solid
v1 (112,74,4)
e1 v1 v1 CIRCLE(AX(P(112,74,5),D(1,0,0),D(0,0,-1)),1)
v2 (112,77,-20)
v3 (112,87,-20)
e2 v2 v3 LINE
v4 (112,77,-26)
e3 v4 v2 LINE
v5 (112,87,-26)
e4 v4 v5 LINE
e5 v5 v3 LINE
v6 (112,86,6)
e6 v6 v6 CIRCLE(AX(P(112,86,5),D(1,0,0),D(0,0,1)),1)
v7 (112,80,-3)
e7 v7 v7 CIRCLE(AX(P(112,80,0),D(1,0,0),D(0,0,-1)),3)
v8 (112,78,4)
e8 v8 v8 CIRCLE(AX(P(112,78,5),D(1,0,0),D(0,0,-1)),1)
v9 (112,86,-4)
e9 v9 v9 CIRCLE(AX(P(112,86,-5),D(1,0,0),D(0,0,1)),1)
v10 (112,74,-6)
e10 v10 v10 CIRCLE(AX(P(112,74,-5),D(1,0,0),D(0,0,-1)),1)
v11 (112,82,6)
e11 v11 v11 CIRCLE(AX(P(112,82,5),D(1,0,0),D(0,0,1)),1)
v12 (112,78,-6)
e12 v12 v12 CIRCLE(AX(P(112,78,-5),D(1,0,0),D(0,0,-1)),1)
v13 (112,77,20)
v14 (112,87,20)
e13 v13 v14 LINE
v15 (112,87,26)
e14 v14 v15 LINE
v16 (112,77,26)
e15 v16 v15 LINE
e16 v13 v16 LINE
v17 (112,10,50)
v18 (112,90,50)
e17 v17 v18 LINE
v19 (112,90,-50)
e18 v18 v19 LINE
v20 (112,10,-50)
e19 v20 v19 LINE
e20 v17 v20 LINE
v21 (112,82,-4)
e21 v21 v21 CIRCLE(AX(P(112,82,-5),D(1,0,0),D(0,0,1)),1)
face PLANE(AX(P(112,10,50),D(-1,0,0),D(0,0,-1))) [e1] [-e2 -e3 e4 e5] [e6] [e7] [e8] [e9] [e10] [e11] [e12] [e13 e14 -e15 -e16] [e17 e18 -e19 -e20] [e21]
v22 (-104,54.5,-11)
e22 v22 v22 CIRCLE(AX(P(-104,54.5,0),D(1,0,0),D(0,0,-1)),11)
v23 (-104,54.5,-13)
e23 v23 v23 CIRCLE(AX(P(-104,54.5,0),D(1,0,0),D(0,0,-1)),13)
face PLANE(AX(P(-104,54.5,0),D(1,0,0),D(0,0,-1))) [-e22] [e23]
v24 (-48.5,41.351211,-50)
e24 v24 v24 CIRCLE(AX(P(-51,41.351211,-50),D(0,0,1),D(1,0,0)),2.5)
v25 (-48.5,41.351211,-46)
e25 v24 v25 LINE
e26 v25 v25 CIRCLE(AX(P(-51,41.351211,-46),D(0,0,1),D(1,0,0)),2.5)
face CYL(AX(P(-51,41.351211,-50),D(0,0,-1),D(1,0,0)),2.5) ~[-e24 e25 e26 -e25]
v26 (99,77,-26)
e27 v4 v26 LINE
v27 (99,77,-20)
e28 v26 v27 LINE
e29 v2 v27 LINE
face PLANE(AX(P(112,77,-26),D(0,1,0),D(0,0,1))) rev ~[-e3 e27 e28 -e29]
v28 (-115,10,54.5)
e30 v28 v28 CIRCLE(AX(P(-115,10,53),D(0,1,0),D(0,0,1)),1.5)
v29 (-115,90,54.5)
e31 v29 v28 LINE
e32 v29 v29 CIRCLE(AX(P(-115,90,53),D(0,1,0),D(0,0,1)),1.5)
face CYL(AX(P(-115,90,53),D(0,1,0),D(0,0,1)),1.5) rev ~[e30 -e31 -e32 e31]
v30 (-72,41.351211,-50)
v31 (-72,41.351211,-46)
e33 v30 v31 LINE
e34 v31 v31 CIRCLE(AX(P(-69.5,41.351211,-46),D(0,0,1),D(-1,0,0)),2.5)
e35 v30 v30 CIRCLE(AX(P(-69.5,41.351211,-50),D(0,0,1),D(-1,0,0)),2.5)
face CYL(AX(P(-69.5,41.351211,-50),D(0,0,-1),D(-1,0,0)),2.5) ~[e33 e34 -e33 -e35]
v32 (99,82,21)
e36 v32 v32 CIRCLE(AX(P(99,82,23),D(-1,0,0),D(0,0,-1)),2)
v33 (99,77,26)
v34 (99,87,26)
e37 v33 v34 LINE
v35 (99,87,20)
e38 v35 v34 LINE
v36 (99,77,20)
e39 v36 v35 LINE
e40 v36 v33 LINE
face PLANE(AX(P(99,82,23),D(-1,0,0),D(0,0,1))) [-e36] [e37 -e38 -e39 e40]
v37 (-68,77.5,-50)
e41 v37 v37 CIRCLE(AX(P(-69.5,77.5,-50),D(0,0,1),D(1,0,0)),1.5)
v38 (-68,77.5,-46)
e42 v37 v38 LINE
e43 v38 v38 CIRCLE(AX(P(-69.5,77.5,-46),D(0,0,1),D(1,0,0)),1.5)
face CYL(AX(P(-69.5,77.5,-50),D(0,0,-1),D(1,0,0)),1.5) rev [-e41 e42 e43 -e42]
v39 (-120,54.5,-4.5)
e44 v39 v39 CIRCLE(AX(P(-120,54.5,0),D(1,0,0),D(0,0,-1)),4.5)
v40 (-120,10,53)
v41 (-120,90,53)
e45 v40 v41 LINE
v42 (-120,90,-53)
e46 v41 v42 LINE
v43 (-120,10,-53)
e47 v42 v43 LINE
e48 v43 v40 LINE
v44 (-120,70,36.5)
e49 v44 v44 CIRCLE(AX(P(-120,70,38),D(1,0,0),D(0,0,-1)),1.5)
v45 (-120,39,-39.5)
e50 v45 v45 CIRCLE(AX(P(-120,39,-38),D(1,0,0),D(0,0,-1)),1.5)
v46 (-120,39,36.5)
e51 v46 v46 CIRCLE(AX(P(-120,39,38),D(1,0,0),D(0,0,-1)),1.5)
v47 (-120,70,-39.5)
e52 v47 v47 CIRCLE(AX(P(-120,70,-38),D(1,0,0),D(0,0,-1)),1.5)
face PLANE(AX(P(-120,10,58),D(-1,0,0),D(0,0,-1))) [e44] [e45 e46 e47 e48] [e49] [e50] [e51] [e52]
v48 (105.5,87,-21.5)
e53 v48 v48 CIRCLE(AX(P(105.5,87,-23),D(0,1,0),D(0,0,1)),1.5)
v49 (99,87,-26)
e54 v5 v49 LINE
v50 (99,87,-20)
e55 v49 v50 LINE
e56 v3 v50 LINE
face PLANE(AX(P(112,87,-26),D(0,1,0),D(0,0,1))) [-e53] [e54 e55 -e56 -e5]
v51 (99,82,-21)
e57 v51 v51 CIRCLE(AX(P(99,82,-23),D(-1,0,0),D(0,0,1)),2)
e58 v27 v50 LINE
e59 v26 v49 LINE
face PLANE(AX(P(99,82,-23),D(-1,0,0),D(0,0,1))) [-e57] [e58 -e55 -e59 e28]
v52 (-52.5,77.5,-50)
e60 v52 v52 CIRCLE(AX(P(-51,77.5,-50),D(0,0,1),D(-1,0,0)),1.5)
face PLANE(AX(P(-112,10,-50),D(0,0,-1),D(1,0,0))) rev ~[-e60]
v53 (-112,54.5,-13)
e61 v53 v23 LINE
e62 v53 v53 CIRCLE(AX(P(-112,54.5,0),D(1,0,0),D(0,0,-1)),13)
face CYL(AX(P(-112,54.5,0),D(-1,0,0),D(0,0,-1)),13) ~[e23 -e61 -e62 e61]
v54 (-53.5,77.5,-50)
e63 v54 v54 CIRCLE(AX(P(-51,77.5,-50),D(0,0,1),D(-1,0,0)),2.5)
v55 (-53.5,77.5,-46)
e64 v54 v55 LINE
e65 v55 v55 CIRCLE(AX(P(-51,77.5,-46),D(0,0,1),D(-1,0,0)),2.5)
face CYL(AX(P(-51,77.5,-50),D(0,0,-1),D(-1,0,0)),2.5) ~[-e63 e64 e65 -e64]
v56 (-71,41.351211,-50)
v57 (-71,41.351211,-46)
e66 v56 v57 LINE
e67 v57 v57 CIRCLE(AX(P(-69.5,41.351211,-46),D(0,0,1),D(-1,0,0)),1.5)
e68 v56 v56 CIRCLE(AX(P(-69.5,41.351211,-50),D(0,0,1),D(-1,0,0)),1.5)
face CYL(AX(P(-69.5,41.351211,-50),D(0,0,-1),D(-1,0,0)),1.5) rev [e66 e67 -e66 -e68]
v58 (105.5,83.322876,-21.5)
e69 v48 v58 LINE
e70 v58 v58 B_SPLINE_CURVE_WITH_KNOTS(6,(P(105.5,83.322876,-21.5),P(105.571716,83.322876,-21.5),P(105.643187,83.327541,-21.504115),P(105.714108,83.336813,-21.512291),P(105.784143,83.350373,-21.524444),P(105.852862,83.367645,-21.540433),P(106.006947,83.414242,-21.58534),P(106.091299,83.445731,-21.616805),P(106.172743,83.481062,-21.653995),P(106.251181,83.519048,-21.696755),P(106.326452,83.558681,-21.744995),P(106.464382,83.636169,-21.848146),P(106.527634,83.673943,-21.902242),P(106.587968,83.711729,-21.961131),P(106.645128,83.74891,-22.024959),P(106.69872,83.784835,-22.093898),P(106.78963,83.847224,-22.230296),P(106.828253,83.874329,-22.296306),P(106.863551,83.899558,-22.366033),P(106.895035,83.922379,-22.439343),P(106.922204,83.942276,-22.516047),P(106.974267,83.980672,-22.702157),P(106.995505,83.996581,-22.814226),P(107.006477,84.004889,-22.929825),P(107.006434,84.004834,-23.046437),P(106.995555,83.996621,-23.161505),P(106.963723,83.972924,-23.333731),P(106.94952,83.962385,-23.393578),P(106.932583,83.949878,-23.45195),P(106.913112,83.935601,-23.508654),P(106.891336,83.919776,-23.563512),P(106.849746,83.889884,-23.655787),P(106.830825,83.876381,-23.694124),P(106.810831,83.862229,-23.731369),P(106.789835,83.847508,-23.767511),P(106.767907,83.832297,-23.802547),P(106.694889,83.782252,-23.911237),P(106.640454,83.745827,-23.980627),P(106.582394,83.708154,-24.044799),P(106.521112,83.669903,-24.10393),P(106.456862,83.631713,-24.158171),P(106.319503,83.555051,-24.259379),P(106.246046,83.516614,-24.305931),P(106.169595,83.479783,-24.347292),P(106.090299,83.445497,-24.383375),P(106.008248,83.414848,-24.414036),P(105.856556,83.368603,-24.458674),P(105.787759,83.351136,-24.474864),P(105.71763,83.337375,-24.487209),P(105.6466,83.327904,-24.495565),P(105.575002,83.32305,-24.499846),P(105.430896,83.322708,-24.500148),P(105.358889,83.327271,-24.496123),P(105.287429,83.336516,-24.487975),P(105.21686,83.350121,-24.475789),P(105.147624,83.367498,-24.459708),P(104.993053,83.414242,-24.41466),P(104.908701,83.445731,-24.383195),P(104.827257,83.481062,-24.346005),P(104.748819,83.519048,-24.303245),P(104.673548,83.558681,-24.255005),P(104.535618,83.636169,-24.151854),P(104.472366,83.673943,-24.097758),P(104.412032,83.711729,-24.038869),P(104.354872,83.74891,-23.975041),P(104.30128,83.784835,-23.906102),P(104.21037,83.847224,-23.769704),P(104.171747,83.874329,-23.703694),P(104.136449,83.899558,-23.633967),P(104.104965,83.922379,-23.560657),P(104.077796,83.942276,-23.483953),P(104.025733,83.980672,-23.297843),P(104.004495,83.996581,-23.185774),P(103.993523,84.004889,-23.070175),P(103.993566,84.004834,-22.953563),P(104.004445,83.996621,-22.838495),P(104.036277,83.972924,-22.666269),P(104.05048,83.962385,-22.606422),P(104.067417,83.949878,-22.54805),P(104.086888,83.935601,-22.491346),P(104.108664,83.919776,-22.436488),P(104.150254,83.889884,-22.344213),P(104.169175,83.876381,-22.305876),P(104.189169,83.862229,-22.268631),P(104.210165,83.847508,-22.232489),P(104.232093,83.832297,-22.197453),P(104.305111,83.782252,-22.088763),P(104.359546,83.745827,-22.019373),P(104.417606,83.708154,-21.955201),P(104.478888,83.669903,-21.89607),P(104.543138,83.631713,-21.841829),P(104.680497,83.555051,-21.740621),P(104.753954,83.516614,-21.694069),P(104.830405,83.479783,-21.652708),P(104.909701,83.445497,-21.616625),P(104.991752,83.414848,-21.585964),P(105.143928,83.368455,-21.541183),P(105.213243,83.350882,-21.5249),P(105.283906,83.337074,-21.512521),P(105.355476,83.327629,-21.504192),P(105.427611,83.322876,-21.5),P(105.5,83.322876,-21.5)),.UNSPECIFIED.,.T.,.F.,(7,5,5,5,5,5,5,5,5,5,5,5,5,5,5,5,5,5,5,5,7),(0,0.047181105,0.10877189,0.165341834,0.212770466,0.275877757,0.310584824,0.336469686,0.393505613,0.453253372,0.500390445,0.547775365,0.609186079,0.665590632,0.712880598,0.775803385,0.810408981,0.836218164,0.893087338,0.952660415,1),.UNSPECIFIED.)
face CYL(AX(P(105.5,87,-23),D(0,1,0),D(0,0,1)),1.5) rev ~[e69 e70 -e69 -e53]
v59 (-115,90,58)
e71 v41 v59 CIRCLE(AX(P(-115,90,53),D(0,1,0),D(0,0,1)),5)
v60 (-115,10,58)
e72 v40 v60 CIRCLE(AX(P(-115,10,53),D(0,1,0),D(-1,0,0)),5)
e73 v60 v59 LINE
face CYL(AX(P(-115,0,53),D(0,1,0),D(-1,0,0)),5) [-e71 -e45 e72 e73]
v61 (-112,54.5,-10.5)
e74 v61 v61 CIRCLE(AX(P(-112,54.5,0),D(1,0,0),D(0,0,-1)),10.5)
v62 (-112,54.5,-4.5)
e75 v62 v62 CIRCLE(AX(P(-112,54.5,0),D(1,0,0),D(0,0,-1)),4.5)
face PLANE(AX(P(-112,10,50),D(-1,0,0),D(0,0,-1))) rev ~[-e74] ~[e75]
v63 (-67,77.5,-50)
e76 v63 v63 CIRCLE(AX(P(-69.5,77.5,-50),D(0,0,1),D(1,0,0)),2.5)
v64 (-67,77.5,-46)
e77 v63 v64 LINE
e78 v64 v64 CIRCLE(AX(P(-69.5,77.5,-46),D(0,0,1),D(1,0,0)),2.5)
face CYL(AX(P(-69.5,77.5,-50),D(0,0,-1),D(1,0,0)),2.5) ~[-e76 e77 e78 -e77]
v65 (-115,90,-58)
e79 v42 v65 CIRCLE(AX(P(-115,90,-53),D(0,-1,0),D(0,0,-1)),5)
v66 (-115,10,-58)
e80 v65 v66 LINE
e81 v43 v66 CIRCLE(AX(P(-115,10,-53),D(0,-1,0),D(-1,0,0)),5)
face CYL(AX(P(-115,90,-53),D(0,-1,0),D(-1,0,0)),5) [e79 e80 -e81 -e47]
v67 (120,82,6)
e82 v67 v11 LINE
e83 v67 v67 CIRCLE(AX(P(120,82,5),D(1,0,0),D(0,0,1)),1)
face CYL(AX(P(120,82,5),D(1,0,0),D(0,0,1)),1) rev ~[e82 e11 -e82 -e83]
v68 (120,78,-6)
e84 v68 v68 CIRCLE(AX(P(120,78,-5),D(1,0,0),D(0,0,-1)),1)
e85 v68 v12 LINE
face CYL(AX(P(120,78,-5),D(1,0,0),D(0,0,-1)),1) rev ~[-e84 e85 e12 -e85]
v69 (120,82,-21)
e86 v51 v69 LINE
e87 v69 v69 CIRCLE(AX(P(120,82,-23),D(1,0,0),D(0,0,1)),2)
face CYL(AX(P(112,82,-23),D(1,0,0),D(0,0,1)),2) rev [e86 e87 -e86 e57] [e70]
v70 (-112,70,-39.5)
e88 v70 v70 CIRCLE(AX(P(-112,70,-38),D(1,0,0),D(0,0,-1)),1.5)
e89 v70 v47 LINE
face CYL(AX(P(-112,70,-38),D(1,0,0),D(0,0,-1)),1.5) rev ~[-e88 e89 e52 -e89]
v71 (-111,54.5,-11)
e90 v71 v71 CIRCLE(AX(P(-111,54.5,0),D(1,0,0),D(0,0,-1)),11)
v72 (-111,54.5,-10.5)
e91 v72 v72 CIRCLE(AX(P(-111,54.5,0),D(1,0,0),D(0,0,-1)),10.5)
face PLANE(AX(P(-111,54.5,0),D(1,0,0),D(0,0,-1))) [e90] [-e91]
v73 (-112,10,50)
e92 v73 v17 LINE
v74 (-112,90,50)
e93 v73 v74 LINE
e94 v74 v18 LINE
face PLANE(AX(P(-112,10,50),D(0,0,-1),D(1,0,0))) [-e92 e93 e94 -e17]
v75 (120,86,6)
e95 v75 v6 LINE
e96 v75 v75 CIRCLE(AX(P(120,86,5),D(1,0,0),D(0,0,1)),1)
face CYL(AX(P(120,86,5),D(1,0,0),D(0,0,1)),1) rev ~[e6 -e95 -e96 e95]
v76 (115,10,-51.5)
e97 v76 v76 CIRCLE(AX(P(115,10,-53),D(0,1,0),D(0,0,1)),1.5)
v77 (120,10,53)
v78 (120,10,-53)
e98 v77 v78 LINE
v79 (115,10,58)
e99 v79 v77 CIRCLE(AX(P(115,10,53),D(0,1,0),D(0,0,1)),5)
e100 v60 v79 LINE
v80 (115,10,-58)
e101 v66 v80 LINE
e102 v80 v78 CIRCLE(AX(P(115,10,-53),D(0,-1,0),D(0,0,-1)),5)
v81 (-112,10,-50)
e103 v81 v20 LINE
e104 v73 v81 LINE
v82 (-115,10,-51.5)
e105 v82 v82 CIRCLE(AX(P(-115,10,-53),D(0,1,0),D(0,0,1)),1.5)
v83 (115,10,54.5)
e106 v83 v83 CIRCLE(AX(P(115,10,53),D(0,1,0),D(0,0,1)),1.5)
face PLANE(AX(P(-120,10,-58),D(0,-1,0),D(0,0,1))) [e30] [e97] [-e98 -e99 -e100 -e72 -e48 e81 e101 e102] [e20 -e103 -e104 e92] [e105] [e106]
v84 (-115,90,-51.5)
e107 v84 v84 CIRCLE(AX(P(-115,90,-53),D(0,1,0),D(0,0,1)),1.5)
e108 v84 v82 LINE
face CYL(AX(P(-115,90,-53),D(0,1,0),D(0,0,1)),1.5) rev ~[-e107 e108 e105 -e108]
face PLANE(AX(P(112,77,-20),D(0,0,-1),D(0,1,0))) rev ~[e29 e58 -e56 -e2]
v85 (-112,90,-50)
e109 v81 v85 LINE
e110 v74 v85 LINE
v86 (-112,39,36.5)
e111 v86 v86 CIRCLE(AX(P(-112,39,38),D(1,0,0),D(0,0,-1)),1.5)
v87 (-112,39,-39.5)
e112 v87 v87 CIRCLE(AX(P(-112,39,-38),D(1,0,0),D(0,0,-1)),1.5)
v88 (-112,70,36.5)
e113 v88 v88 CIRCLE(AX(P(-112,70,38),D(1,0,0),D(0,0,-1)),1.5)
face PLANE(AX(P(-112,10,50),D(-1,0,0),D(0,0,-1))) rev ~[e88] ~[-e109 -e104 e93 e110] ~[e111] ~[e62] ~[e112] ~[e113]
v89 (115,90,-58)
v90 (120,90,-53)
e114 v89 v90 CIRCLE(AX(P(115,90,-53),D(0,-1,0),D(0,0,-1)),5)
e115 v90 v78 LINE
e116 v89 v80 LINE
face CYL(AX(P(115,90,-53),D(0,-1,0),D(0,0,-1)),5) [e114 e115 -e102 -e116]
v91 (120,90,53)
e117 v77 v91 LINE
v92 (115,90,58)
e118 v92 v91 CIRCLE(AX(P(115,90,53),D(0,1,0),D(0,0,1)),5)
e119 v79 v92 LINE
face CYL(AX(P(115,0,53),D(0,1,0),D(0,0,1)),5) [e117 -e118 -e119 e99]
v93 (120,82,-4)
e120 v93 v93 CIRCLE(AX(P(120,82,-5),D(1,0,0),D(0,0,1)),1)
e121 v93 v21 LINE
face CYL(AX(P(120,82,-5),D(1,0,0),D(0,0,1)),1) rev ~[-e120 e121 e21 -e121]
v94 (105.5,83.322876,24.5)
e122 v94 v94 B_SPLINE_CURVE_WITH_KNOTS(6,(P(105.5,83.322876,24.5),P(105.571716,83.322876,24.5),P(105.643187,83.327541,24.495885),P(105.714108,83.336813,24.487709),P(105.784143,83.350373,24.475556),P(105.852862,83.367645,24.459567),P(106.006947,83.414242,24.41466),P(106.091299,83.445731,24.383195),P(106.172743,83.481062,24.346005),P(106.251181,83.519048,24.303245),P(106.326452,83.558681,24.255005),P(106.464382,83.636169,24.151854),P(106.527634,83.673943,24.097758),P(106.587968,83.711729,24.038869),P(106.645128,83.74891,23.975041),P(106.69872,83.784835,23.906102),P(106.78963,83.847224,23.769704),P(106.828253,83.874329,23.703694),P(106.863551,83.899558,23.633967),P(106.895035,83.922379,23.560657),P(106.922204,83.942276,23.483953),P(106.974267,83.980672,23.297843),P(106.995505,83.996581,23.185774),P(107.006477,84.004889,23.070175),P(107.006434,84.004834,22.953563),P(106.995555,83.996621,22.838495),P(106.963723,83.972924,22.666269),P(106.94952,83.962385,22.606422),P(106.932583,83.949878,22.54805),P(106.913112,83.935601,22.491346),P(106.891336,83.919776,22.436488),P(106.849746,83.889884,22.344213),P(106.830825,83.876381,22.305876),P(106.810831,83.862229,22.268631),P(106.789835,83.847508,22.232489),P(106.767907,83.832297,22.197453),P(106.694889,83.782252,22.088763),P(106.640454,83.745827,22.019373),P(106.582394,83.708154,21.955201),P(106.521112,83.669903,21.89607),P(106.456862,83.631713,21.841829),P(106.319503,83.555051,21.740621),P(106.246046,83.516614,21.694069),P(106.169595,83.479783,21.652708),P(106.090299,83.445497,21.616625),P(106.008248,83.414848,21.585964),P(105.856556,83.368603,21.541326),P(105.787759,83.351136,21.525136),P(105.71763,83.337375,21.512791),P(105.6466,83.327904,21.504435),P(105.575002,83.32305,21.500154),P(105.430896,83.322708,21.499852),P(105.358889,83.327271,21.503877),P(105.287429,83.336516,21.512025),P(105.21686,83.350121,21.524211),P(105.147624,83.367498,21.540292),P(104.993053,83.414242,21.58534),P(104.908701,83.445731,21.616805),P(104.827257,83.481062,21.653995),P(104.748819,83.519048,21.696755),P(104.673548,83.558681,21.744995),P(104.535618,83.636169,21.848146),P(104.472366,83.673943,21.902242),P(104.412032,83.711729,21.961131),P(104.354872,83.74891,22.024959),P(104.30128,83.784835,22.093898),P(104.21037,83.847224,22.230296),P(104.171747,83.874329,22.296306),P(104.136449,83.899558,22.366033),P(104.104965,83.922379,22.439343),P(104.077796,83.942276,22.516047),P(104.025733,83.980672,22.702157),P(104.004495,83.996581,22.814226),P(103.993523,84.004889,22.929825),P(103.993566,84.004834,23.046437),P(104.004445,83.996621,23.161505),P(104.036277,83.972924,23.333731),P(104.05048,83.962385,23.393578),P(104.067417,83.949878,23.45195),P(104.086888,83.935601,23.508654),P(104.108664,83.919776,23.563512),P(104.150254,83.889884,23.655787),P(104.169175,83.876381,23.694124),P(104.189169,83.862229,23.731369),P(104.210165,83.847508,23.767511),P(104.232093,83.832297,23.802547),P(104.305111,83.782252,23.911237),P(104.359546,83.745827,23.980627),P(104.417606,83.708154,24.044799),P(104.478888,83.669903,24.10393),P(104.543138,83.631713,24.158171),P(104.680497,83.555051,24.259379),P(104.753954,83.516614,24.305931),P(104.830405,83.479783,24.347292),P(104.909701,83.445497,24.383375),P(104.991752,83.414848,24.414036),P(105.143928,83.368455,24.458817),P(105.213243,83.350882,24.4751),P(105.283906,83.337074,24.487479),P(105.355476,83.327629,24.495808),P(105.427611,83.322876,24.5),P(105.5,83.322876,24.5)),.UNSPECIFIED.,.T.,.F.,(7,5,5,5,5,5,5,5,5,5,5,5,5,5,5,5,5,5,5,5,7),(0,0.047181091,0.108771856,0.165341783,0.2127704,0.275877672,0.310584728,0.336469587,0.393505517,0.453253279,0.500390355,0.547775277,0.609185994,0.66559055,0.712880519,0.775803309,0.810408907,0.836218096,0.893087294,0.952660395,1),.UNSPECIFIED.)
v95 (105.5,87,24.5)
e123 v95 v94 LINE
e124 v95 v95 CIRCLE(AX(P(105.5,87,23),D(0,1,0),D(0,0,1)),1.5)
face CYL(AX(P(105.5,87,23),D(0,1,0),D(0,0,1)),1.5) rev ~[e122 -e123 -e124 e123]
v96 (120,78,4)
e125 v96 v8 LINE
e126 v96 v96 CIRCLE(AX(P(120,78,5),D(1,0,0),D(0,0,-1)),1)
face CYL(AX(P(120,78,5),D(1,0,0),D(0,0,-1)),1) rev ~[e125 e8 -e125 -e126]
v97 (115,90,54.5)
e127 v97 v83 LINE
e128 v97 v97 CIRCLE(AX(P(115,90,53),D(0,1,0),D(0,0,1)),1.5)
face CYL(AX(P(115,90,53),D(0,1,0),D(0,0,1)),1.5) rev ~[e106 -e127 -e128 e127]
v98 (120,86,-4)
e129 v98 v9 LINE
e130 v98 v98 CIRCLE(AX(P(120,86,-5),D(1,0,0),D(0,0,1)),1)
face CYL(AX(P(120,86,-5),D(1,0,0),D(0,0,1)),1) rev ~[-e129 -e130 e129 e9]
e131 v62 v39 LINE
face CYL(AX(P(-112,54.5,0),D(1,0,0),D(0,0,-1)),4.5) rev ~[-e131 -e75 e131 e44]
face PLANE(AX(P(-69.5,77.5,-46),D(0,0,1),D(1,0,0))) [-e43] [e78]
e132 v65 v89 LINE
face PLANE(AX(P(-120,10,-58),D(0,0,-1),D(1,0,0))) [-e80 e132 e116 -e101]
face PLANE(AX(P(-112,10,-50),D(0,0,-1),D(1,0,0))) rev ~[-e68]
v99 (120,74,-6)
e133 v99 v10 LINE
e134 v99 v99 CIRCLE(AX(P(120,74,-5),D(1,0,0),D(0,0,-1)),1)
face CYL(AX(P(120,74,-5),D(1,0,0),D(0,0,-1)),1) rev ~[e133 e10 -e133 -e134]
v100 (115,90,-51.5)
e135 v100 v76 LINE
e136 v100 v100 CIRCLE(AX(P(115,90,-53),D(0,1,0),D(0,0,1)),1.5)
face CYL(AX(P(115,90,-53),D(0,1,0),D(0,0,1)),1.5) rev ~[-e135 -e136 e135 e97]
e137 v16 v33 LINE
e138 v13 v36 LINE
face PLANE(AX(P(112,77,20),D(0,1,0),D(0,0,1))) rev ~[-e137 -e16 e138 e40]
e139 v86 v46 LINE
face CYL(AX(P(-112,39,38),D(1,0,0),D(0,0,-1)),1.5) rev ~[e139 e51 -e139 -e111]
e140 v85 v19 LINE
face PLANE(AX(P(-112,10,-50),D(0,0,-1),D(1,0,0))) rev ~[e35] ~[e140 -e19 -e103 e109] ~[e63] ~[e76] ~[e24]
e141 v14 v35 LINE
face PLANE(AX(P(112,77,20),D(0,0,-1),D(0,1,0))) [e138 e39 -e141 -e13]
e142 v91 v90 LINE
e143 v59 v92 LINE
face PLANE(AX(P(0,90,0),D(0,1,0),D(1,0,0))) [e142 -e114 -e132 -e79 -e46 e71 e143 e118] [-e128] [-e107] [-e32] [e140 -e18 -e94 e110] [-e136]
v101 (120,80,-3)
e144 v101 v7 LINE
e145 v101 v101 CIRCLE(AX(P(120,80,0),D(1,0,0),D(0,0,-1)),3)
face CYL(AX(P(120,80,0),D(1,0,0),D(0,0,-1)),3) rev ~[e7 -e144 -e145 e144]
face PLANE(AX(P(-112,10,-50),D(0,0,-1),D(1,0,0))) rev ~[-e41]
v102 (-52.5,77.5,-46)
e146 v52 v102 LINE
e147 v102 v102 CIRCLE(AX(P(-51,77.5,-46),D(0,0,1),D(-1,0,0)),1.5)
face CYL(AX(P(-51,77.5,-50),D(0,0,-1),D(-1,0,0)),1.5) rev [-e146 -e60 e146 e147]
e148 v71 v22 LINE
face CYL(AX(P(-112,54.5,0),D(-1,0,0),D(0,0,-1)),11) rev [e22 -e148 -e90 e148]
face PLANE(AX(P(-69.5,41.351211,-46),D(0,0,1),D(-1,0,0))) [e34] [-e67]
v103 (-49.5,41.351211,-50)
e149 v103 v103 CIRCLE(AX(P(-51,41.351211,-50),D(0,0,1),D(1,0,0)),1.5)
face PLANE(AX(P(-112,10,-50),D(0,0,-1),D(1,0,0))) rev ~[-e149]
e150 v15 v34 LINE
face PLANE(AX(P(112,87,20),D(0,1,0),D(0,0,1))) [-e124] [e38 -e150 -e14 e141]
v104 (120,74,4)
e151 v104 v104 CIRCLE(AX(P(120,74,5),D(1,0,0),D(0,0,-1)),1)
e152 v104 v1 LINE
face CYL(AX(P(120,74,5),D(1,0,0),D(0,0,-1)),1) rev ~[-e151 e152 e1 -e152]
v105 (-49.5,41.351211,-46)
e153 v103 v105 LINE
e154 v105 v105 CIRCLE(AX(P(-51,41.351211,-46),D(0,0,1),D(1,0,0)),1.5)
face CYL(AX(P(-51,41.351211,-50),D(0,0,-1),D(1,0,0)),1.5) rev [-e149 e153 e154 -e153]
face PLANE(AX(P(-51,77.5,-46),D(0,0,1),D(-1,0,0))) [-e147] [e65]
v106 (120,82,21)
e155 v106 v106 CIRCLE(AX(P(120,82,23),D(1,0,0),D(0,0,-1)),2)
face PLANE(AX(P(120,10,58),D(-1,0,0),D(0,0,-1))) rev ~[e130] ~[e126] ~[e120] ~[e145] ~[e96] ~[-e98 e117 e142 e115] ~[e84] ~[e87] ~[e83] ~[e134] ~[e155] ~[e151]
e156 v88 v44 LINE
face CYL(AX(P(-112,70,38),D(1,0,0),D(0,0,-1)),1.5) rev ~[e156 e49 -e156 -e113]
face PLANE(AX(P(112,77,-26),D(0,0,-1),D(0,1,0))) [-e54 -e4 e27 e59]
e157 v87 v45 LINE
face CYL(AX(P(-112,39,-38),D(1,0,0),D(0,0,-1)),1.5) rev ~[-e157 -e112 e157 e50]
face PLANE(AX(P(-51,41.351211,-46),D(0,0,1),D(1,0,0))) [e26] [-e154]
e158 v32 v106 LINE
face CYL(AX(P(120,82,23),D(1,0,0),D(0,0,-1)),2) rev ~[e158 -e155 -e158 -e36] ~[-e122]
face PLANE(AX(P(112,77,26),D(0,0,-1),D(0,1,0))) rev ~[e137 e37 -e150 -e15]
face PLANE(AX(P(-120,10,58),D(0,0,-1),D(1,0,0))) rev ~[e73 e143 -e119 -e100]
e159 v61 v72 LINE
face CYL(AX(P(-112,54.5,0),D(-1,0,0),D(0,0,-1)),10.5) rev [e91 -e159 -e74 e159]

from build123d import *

# Parameters (mm, degrees)
SKETCH1_W           = 240
SKETCH1_H           = 116
BOSS_EXTRUDE1_DEPTH = 10
SKETCH10_W          = 240
SKETCH10_H          = 116
SKETCH10_W_2        = 224
SKETCH10_H_2        = 100
BOSS_EXTRUDE4_DEPTH = 80
CUT_EXTRUDE14_REACH = 257.515
SKETCH24_R          = 1.5
SKETCH14_R          = 13
SKETCH14_R_2        = 11
BOSS_EXTRUDE6_DEPTH = 8
SKETCH16_R          = 11
SKETCH16_R_2        = 10.5
BOSS_EXTRUDE7_DEPTH = 1
CUT_EXTRUDE9_REACH  = 257.515
SKETCH17_R          = 4.5
SKETCH18_R          = 2.5
SKETCH18_R_2        = 1.5
BOSS_EXTRUDE8_DEPTH = 4
FILLET1_R           = 5
CUT_EXTRUDE10_REACH = 162.823
SKETCH19_R          = 1.5
CUT_EXTRUDE11_REACH = 264.8
SKETCH20_R          = 2
SKETCH21_W          = 6
SKETCH21_H          = 10
SKETCH21_R          = 2
BOSS_EXTRUDE9_DEPTH = 13
CUT_EXTRUDE12_REACH = 161.163
SKETCH22_R          = 1.5
CUT_EXTRUDE13_REACH = 264.8
SKETCH23_R          = 1
SKETCH23_R_2        = 3
CUT_EXTRUDE15_REACH = 264.8
SKETCH32_W          = 116
SKETCH32_H          = 10


with BuildPart() as part:
    # Sketch1 → Boss-Extrude1 (new body)
    with BuildSketch(Plane(origin=(0, 0, 0), x_dir=(1, 0, 0), z_dir=(0, 1, 0))):
        Rectangle(SKETCH1_W, SKETCH1_H)
    extrude(amount=BOSS_EXTRUDE1_DEPTH)

    # Sketch10 → Boss-Extrude4 (add)
    with BuildSketch(Plane(origin=(0, 10, 0), x_dir=(1, 0, 0), z_dir=(0, 1, 0))):
        Rectangle(SKETCH10_W, SKETCH10_H)
        Rectangle(SKETCH10_W_2, SKETCH10_H_2, mode=Mode.SUBTRACT)
    extrude(amount=BOSS_EXTRUDE4_DEPTH)

    # Sketch24 → Cut-Extrude14 (cut, up to next)
    with BuildSketch(Plane(origin=(-112, 0, 0), x_dir=(0, 0, -1), z_dir=(1, 0, 0)), mode=Mode.PRIVATE) as cut_extrude14_sk1:
        with Locations((-38, 70)):
            Circle(SKETCH24_R)
    cut_extrude14_tool1 = extrude(cut_extrude14_sk1.sketch, amount=-CUT_EXTRUDE14_REACH, mode=Mode.PRIVATE) & part.part
    # Sketch24 → Cut-Extrude14 (cut, up to next)
    with BuildSketch(Plane(origin=(-112, 0, 0), x_dir=(0, 0, -1), z_dir=(1, 0, 0)), mode=Mode.PRIVATE) as cut_extrude14_sk2:
        with Locations((-38, 39)):
            Circle(SKETCH24_R)
    cut_extrude14_tool2 = extrude(cut_extrude14_sk2.sketch, amount=-CUT_EXTRUDE14_REACH, mode=Mode.PRIVATE) & part.part
    # Sketch24 → Cut-Extrude14 (cut, up to next)
    with BuildSketch(Plane(origin=(-112, 0, 0), x_dir=(0, 0, -1), z_dir=(1, 0, 0)), mode=Mode.PRIVATE) as cut_extrude14_sk3:
        with Locations((38, 39)):
            Circle(SKETCH24_R)
    cut_extrude14_tool3 = extrude(cut_extrude14_sk3.sketch, amount=-CUT_EXTRUDE14_REACH, mode=Mode.PRIVATE) & part.part
    # Sketch24 → Cut-Extrude14 (cut, up to next)
    with BuildSketch(Plane(origin=(-112, 0, 0), x_dir=(0, 0, -1), z_dir=(1, 0, 0)), mode=Mode.PRIVATE) as cut_extrude14_sk4:
        with Locations((38, 70)):
            Circle(SKETCH24_R)
    cut_extrude14_tool4 = extrude(cut_extrude14_sk4.sketch, amount=-CUT_EXTRUDE14_REACH, mode=Mode.PRIVATE) & part.part
    add(cut_extrude14_tool1.solids().sort_by_distance((-112, 70, 38))[0], mode=Mode.SUBTRACT)
    add(cut_extrude14_tool2.solids().sort_by_distance((-112, 39, 38))[0], mode=Mode.SUBTRACT)
    add(cut_extrude14_tool3.solids().sort_by_distance((-112, 39, -38))[0], mode=Mode.SUBTRACT)
    add(cut_extrude14_tool4.solids().sort_by_distance((-112, 70, -38))[0], mode=Mode.SUBTRACT)

    # Sketch14 → Boss-Extrude6 (add)
    with BuildSketch(Plane(origin=(-112, 0, 0), x_dir=(0, 0, -1), z_dir=(1, 0, 0))):
        with Locations((0, 54.5)):
            Circle(SKETCH14_R)
        with Locations((0, 54.5)):
            Circle(SKETCH14_R_2, mode=Mode.SUBTRACT)
    extrude(amount=BOSS_EXTRUDE6_DEPTH)

    # Sketch16 → Boss-Extrude7 (add)
    with BuildSketch(Plane(origin=(-112, 0, 0), x_dir=(0, 0, -1), z_dir=(1, 0, 0))):
        with Locations((0, 54.5)):
            Circle(SKETCH16_R)
        with Locations((0, 54.5)):
            Circle(SKETCH16_R_2, mode=Mode.SUBTRACT)
    extrude(amount=BOSS_EXTRUDE7_DEPTH)

    # Sketch17 → Cut-Extrude9 (cut, up to next)
    with BuildSketch(Plane(origin=(-112, 0, 0), x_dir=(0, 0, -1), z_dir=(1, 0, 0)), mode=Mode.PRIVATE) as cut_extrude9_sk1:
        with Locations((0, 54.5)):
            Circle(SKETCH17_R)
    cut_extrude9_tool1 = extrude(cut_extrude9_sk1.sketch, amount=-CUT_EXTRUDE9_REACH, mode=Mode.PRIVATE) & part.part
    add(cut_extrude9_tool1.solids().sort_by_distance((-112, 54.5, 0))[0], mode=Mode.SUBTRACT)

    # Sketch18 → Boss-Extrude8 (add)
    # profile 1 of 4: a face of its own
    with BuildSketch(Plane.XY.offset(-50)):
        with Locations((-69.5, 77.5)):
            Circle(SKETCH18_R)
        with Locations((-69.5, 77.5)):
            Circle(SKETCH18_R_2, mode=Mode.SUBTRACT)
    # profile 2 of 4: a face of its own
    with BuildSketch(Plane.XY.offset(-50)):
        with Locations(Location((-69.5, 41.351210886, 0), (0, 0, 180))):
            Circle(SKETCH18_R)
        with Locations(Location((-69.5, 41.351210886, 0), (0, 0, 180))):
            Circle(SKETCH18_R_2, mode=Mode.SUBTRACT)
    # profile 3 of 4: a face of its own
    with BuildSketch(Plane.XY.offset(-50)):
        with Locations((-51, 41.351210886)):
            Circle(SKETCH18_R)
        with Locations((-51, 41.351210886)):
            Circle(SKETCH18_R_2, mode=Mode.SUBTRACT)
    # profile 4 of 4: a face of its own
    with BuildSketch(Plane.XY.offset(-50)):
        with Locations(Location((-51, 77.5, 0), (0, 0, 180))):
            Circle(SKETCH18_R)
        with Locations(Location((-51, 77.5, 0), (0, 0, 180))):
            Circle(SKETCH18_R_2, mode=Mode.SUBTRACT)
    extrude(amount=BOSS_EXTRUDE8_DEPTH)

    # Fillet1
    fillet1_edges = [part.edges().sort_by_distance(p)[0] for p in [
        (0, 0, 58),
        (-120, 0, 0),
        (0, 0, -58),
        (120, 0, 0),
        (120, 45, 58),
        (-120, 45, 58),
        (-120, 45, -58),
        (120, 45, -58),
    ]]
    fillet(fillet1_edges, radius=FILLET1_R)

    # Sketch19 → Cut-Extrude10 (cut, up to next)
    with BuildSketch(Plane(origin=(0, 90, 0), x_dir=(1, 0, 0), z_dir=(0, 1, 0)), mode=Mode.PRIVATE) as cut_extrude10_sk1:
        with Locations(Location((115, 53, 0), (0, 0, 270))):
            Circle(SKETCH19_R)
    cut_extrude10_tool1 = extrude(cut_extrude10_sk1.sketch, amount=-CUT_EXTRUDE10_REACH, mode=Mode.PRIVATE) & part.part
    # Sketch19 → Cut-Extrude10 (cut, up to next)
    with BuildSketch(Plane(origin=(0, 90, 0), x_dir=(1, 0, 0), z_dir=(0, 1, 0)), mode=Mode.PRIVATE) as cut_extrude10_sk2:
        with Locations(Location((-115, 53, 0), (0, 0, 270))):
            Circle(SKETCH19_R)
    cut_extrude10_tool2 = extrude(cut_extrude10_sk2.sketch, amount=-CUT_EXTRUDE10_REACH, mode=Mode.PRIVATE) & part.part
    # Sketch19 → Cut-Extrude10 (cut, up to next)
    with BuildSketch(Plane(origin=(0, 90, 0), x_dir=(1, 0, 0), z_dir=(0, 1, 0)), mode=Mode.PRIVATE) as cut_extrude10_sk3:
        with Locations(Location((-115, -53, 0), (0, 0, 270))):
            Circle(SKETCH19_R)
    cut_extrude10_tool3 = extrude(cut_extrude10_sk3.sketch, amount=-CUT_EXTRUDE10_REACH, mode=Mode.PRIVATE) & part.part
    # Sketch19 → Cut-Extrude10 (cut, up to next)
    with BuildSketch(Plane(origin=(0, 90, 0), x_dir=(1, 0, 0), z_dir=(0, 1, 0)), mode=Mode.PRIVATE) as cut_extrude10_sk4:
        with Locations(Location((115, -53, 0), (0, 0, 270))):
            Circle(SKETCH19_R)
    cut_extrude10_tool4 = extrude(cut_extrude10_sk4.sketch, amount=-CUT_EXTRUDE10_REACH, mode=Mode.PRIVATE) & part.part
    add(cut_extrude10_tool1.solids().sort_by_distance((115, 90, -53))[0], mode=Mode.SUBTRACT)
    add(cut_extrude10_tool2.solids().sort_by_distance((-115, 90, -53))[0], mode=Mode.SUBTRACT)
    add(cut_extrude10_tool3.solids().sort_by_distance((-115, 90, 53))[0], mode=Mode.SUBTRACT)
    add(cut_extrude10_tool4.solids().sort_by_distance((115, 90, 53))[0], mode=Mode.SUBTRACT)

    # Sketch20 → Cut-Extrude11 (cut, up to next)
    with BuildSketch(Plane(origin=(120, 0, 0), x_dir=(0, 0, -1), z_dir=(1, 0, 0)), mode=Mode.PRIVATE) as cut_extrude11_sk1:
        with Locations((-23, 82)):
            Circle(SKETCH20_R)
    cut_extrude11_tool1 = extrude(cut_extrude11_sk1.sketch, amount=-CUT_EXTRUDE11_REACH, mode=Mode.PRIVATE) & part.part
    # Sketch20 → Cut-Extrude11 (cut, up to next)
    with BuildSketch(Plane(origin=(120, 0, 0), x_dir=(0, 0, -1), z_dir=(1, 0, 0)), mode=Mode.PRIVATE) as cut_extrude11_sk2:
        with Locations(Location((23, 82, 0), (0, 0, 180))):
            Circle(SKETCH20_R)
    cut_extrude11_tool2 = extrude(cut_extrude11_sk2.sketch, amount=-CUT_EXTRUDE11_REACH, mode=Mode.PRIVATE) & part.part
    add(cut_extrude11_tool1.solids().sort_by_distance((120, 82, 23))[0], mode=Mode.SUBTRACT)
    add(cut_extrude11_tool2.solids().sort_by_distance((120, 82, -23))[0], mode=Mode.SUBTRACT)

    # Sketch21 → Boss-Extrude9 (add)
    # profile 1 of 2: a face of its own
    with BuildSketch(Plane.ZY.offset(-112)):
        with Locations((-23, 82)):
            Rectangle(SKETCH21_W, SKETCH21_H)
        with Locations((-23, 82)):
            Circle(SKETCH21_R, mode=Mode.SUBTRACT)
    # profile 2 of 2: a face of its own
    with BuildSketch(Plane.ZY.offset(-112)):
        with Locations((23, 82)):
            Rectangle(SKETCH21_W, SKETCH21_H)
        with Locations(Location((23, 82, 0), (0, 0, 180))):
            Circle(SKETCH21_R, mode=Mode.SUBTRACT)
    extrude(amount=BOSS_EXTRUDE9_DEPTH)

    # Sketch22 → Cut-Extrude12 (cut, up to next)
    with BuildSketch(Plane(origin=(0, 87, 0), x_dir=(1, 0, 0), z_dir=(0, 1, 0)), mode=Mode.PRIVATE) as cut_extrude12_sk1:
        with Locations(Location((105.5, -23, 0), (0, 0, 270))):
            Circle(SKETCH22_R)
    cut_extrude12_tool1 = extrude(cut_extrude12_sk1.sketch, amount=-CUT_EXTRUDE12_REACH, mode=Mode.PRIVATE) & part.part
    # Sketch22 → Cut-Extrude12 (cut, up to next)
    with BuildSketch(Plane(origin=(0, 87, 0), x_dir=(1, 0, 0), z_dir=(0, 1, 0)), mode=Mode.PRIVATE) as cut_extrude12_sk2:
        with Locations(Location((105.5, 23, 0), (0, 0, 270))):
            Circle(SKETCH22_R)
    cut_extrude12_tool2 = extrude(cut_extrude12_sk2.sketch, amount=-CUT_EXTRUDE12_REACH, mode=Mode.PRIVATE) & part.part
    add(cut_extrude12_tool1.solids().sort_by_distance((105.5, 87, 23))[0], mode=Mode.SUBTRACT)
    add(cut_extrude12_tool2.solids().sort_by_distance((105.5, 87, -23))[0], mode=Mode.SUBTRACT)

    # Sketch23 → Cut-Extrude13 (cut, up to next)
    with BuildSketch(Plane(origin=(120, 0, 0), x_dir=(0, 0, -1), z_dir=(1, 0, 0)), mode=Mode.PRIVATE) as cut_extrude13_sk1:
        with Locations((5, 78)):
            Circle(SKETCH23_R)
    cut_extrude13_tool1 = extrude(cut_extrude13_sk1.sketch, amount=-CUT_EXTRUDE13_REACH, mode=Mode.PRIVATE) & part.part
    # Sketch23 → Cut-Extrude13 (cut, up to next)
    with BuildSketch(Plane(origin=(120, 0, 0), x_dir=(0, 0, -1), z_dir=(1, 0, 0)), mode=Mode.PRIVATE) as cut_extrude13_sk2:
        with Locations((-5, 78)):
            Circle(SKETCH23_R)
    cut_extrude13_tool2 = extrude(cut_extrude13_sk2.sketch, amount=-CUT_EXTRUDE13_REACH, mode=Mode.PRIVATE) & part.part
    # Sketch23 → Cut-Extrude13 (cut, up to next)
    with BuildSketch(Plane(origin=(120, 0, 0), x_dir=(0, 0, -1), z_dir=(1, 0, 0)), mode=Mode.PRIVATE) as cut_extrude13_sk3:
        with Locations((5, 74)):
            Circle(SKETCH23_R)
    cut_extrude13_tool3 = extrude(cut_extrude13_sk3.sketch, amount=-CUT_EXTRUDE13_REACH, mode=Mode.PRIVATE) & part.part
    # Sketch23 → Cut-Extrude13 (cut, up to next)
    with BuildSketch(Plane(origin=(120, 0, 0), x_dir=(0, 0, -1), z_dir=(1, 0, 0)), mode=Mode.PRIVATE) as cut_extrude13_sk4:
        with Locations((-5, 74)):
            Circle(SKETCH23_R)
    cut_extrude13_tool4 = extrude(cut_extrude13_sk4.sketch, amount=-CUT_EXTRUDE13_REACH, mode=Mode.PRIVATE) & part.part
    # Sketch23 → Cut-Extrude13 (cut, up to next)
    with BuildSketch(Plane(origin=(120, 0, 0), x_dir=(0, 0, -1), z_dir=(1, 0, 0)), mode=Mode.PRIVATE) as cut_extrude13_sk5:
        with Locations(Location((-5, 86, 0), (0, 0, 180))):
            Circle(SKETCH23_R)
    cut_extrude13_tool5 = extrude(cut_extrude13_sk5.sketch, amount=-CUT_EXTRUDE13_REACH, mode=Mode.PRIVATE) & part.part
    # Sketch23 → Cut-Extrude13 (cut, up to next)
    with BuildSketch(Plane(origin=(120, 0, 0), x_dir=(0, 0, -1), z_dir=(1, 0, 0)), mode=Mode.PRIVATE) as cut_extrude13_sk6:
        with Locations(Location((5, 86, 0), (0, 0, 180))):
            Circle(SKETCH23_R)
    cut_extrude13_tool6 = extrude(cut_extrude13_sk6.sketch, amount=-CUT_EXTRUDE13_REACH, mode=Mode.PRIVATE) & part.part
    # Sketch23 → Cut-Extrude13 (cut, up to next)
    with BuildSketch(Plane(origin=(120, 0, 0), x_dir=(0, 0, -1), z_dir=(1, 0, 0)), mode=Mode.PRIVATE) as cut_extrude13_sk7:
        with Locations(Location((-5, 82, 0), (0, 0, 180))):
            Circle(SKETCH23_R)
    cut_extrude13_tool7 = extrude(cut_extrude13_sk7.sketch, amount=-CUT_EXTRUDE13_REACH, mode=Mode.PRIVATE) & part.part
    # Sketch23 → Cut-Extrude13 (cut, up to next)
    with BuildSketch(Plane(origin=(120, 0, 0), x_dir=(0, 0, -1), z_dir=(1, 0, 0)), mode=Mode.PRIVATE) as cut_extrude13_sk8:
        with Locations(Location((5, 82, 0), (0, 0, 180))):
            Circle(SKETCH23_R)
    cut_extrude13_tool8 = extrude(cut_extrude13_sk8.sketch, amount=-CUT_EXTRUDE13_REACH, mode=Mode.PRIVATE) & part.part
    # Sketch23 → Cut-Extrude13 (cut, up to next)
    with BuildSketch(Plane(origin=(120, 0, 0), x_dir=(0, 0, -1), z_dir=(1, 0, 0)), mode=Mode.PRIVATE) as cut_extrude13_sk9:
        with Locations((0, 80)):
            Circle(SKETCH23_R_2)
    cut_extrude13_tool9 = extrude(cut_extrude13_sk9.sketch, amount=-CUT_EXTRUDE13_REACH, mode=Mode.PRIVATE) & part.part
    add(cut_extrude13_tool1.solids().sort_by_distance((120, 78, -5))[0], mode=Mode.SUBTRACT)
    add(cut_extrude13_tool2.solids().sort_by_distance((120, 78, 5))[0], mode=Mode.SUBTRACT)
    add(cut_extrude13_tool3.solids().sort_by_distance((120, 74, -5))[0], mode=Mode.SUBTRACT)
    add(cut_extrude13_tool4.solids().sort_by_distance((120, 74, 5))[0], mode=Mode.SUBTRACT)
    add(cut_extrude13_tool5.solids().sort_by_distance((120, 86, 5))[0], mode=Mode.SUBTRACT)
    add(cut_extrude13_tool6.solids().sort_by_distance((120, 86, -5))[0], mode=Mode.SUBTRACT)
    add(cut_extrude13_tool7.solids().sort_by_distance((120, 82, 5))[0], mode=Mode.SUBTRACT)
    add(cut_extrude13_tool8.solids().sort_by_distance((120, 82, -5))[0], mode=Mode.SUBTRACT)
    add(cut_extrude13_tool9.solids().sort_by_distance((120, 80, 0))[0], mode=Mode.SUBTRACT)

    # Sketch32 → Cut-Extrude15 (cut, up to next)
    with BuildSketch(Plane.ZY.offset(120), mode=Mode.PRIVATE) as cut_extrude15_sk1:
        with Locations((0, 5)):
            Rectangle(SKETCH32_W, SKETCH32_H)
    cut_extrude15_tool1 = extrude(cut_extrude15_sk1.sketch, amount=-CUT_EXTRUDE15_REACH, mode=Mode.PRIVATE) & part.part
    add(cut_extrude15_tool1.solids().sort_by_distance((-120, 5, 0))[0], mode=Mode.SUBTRACT)


solid = part.part
